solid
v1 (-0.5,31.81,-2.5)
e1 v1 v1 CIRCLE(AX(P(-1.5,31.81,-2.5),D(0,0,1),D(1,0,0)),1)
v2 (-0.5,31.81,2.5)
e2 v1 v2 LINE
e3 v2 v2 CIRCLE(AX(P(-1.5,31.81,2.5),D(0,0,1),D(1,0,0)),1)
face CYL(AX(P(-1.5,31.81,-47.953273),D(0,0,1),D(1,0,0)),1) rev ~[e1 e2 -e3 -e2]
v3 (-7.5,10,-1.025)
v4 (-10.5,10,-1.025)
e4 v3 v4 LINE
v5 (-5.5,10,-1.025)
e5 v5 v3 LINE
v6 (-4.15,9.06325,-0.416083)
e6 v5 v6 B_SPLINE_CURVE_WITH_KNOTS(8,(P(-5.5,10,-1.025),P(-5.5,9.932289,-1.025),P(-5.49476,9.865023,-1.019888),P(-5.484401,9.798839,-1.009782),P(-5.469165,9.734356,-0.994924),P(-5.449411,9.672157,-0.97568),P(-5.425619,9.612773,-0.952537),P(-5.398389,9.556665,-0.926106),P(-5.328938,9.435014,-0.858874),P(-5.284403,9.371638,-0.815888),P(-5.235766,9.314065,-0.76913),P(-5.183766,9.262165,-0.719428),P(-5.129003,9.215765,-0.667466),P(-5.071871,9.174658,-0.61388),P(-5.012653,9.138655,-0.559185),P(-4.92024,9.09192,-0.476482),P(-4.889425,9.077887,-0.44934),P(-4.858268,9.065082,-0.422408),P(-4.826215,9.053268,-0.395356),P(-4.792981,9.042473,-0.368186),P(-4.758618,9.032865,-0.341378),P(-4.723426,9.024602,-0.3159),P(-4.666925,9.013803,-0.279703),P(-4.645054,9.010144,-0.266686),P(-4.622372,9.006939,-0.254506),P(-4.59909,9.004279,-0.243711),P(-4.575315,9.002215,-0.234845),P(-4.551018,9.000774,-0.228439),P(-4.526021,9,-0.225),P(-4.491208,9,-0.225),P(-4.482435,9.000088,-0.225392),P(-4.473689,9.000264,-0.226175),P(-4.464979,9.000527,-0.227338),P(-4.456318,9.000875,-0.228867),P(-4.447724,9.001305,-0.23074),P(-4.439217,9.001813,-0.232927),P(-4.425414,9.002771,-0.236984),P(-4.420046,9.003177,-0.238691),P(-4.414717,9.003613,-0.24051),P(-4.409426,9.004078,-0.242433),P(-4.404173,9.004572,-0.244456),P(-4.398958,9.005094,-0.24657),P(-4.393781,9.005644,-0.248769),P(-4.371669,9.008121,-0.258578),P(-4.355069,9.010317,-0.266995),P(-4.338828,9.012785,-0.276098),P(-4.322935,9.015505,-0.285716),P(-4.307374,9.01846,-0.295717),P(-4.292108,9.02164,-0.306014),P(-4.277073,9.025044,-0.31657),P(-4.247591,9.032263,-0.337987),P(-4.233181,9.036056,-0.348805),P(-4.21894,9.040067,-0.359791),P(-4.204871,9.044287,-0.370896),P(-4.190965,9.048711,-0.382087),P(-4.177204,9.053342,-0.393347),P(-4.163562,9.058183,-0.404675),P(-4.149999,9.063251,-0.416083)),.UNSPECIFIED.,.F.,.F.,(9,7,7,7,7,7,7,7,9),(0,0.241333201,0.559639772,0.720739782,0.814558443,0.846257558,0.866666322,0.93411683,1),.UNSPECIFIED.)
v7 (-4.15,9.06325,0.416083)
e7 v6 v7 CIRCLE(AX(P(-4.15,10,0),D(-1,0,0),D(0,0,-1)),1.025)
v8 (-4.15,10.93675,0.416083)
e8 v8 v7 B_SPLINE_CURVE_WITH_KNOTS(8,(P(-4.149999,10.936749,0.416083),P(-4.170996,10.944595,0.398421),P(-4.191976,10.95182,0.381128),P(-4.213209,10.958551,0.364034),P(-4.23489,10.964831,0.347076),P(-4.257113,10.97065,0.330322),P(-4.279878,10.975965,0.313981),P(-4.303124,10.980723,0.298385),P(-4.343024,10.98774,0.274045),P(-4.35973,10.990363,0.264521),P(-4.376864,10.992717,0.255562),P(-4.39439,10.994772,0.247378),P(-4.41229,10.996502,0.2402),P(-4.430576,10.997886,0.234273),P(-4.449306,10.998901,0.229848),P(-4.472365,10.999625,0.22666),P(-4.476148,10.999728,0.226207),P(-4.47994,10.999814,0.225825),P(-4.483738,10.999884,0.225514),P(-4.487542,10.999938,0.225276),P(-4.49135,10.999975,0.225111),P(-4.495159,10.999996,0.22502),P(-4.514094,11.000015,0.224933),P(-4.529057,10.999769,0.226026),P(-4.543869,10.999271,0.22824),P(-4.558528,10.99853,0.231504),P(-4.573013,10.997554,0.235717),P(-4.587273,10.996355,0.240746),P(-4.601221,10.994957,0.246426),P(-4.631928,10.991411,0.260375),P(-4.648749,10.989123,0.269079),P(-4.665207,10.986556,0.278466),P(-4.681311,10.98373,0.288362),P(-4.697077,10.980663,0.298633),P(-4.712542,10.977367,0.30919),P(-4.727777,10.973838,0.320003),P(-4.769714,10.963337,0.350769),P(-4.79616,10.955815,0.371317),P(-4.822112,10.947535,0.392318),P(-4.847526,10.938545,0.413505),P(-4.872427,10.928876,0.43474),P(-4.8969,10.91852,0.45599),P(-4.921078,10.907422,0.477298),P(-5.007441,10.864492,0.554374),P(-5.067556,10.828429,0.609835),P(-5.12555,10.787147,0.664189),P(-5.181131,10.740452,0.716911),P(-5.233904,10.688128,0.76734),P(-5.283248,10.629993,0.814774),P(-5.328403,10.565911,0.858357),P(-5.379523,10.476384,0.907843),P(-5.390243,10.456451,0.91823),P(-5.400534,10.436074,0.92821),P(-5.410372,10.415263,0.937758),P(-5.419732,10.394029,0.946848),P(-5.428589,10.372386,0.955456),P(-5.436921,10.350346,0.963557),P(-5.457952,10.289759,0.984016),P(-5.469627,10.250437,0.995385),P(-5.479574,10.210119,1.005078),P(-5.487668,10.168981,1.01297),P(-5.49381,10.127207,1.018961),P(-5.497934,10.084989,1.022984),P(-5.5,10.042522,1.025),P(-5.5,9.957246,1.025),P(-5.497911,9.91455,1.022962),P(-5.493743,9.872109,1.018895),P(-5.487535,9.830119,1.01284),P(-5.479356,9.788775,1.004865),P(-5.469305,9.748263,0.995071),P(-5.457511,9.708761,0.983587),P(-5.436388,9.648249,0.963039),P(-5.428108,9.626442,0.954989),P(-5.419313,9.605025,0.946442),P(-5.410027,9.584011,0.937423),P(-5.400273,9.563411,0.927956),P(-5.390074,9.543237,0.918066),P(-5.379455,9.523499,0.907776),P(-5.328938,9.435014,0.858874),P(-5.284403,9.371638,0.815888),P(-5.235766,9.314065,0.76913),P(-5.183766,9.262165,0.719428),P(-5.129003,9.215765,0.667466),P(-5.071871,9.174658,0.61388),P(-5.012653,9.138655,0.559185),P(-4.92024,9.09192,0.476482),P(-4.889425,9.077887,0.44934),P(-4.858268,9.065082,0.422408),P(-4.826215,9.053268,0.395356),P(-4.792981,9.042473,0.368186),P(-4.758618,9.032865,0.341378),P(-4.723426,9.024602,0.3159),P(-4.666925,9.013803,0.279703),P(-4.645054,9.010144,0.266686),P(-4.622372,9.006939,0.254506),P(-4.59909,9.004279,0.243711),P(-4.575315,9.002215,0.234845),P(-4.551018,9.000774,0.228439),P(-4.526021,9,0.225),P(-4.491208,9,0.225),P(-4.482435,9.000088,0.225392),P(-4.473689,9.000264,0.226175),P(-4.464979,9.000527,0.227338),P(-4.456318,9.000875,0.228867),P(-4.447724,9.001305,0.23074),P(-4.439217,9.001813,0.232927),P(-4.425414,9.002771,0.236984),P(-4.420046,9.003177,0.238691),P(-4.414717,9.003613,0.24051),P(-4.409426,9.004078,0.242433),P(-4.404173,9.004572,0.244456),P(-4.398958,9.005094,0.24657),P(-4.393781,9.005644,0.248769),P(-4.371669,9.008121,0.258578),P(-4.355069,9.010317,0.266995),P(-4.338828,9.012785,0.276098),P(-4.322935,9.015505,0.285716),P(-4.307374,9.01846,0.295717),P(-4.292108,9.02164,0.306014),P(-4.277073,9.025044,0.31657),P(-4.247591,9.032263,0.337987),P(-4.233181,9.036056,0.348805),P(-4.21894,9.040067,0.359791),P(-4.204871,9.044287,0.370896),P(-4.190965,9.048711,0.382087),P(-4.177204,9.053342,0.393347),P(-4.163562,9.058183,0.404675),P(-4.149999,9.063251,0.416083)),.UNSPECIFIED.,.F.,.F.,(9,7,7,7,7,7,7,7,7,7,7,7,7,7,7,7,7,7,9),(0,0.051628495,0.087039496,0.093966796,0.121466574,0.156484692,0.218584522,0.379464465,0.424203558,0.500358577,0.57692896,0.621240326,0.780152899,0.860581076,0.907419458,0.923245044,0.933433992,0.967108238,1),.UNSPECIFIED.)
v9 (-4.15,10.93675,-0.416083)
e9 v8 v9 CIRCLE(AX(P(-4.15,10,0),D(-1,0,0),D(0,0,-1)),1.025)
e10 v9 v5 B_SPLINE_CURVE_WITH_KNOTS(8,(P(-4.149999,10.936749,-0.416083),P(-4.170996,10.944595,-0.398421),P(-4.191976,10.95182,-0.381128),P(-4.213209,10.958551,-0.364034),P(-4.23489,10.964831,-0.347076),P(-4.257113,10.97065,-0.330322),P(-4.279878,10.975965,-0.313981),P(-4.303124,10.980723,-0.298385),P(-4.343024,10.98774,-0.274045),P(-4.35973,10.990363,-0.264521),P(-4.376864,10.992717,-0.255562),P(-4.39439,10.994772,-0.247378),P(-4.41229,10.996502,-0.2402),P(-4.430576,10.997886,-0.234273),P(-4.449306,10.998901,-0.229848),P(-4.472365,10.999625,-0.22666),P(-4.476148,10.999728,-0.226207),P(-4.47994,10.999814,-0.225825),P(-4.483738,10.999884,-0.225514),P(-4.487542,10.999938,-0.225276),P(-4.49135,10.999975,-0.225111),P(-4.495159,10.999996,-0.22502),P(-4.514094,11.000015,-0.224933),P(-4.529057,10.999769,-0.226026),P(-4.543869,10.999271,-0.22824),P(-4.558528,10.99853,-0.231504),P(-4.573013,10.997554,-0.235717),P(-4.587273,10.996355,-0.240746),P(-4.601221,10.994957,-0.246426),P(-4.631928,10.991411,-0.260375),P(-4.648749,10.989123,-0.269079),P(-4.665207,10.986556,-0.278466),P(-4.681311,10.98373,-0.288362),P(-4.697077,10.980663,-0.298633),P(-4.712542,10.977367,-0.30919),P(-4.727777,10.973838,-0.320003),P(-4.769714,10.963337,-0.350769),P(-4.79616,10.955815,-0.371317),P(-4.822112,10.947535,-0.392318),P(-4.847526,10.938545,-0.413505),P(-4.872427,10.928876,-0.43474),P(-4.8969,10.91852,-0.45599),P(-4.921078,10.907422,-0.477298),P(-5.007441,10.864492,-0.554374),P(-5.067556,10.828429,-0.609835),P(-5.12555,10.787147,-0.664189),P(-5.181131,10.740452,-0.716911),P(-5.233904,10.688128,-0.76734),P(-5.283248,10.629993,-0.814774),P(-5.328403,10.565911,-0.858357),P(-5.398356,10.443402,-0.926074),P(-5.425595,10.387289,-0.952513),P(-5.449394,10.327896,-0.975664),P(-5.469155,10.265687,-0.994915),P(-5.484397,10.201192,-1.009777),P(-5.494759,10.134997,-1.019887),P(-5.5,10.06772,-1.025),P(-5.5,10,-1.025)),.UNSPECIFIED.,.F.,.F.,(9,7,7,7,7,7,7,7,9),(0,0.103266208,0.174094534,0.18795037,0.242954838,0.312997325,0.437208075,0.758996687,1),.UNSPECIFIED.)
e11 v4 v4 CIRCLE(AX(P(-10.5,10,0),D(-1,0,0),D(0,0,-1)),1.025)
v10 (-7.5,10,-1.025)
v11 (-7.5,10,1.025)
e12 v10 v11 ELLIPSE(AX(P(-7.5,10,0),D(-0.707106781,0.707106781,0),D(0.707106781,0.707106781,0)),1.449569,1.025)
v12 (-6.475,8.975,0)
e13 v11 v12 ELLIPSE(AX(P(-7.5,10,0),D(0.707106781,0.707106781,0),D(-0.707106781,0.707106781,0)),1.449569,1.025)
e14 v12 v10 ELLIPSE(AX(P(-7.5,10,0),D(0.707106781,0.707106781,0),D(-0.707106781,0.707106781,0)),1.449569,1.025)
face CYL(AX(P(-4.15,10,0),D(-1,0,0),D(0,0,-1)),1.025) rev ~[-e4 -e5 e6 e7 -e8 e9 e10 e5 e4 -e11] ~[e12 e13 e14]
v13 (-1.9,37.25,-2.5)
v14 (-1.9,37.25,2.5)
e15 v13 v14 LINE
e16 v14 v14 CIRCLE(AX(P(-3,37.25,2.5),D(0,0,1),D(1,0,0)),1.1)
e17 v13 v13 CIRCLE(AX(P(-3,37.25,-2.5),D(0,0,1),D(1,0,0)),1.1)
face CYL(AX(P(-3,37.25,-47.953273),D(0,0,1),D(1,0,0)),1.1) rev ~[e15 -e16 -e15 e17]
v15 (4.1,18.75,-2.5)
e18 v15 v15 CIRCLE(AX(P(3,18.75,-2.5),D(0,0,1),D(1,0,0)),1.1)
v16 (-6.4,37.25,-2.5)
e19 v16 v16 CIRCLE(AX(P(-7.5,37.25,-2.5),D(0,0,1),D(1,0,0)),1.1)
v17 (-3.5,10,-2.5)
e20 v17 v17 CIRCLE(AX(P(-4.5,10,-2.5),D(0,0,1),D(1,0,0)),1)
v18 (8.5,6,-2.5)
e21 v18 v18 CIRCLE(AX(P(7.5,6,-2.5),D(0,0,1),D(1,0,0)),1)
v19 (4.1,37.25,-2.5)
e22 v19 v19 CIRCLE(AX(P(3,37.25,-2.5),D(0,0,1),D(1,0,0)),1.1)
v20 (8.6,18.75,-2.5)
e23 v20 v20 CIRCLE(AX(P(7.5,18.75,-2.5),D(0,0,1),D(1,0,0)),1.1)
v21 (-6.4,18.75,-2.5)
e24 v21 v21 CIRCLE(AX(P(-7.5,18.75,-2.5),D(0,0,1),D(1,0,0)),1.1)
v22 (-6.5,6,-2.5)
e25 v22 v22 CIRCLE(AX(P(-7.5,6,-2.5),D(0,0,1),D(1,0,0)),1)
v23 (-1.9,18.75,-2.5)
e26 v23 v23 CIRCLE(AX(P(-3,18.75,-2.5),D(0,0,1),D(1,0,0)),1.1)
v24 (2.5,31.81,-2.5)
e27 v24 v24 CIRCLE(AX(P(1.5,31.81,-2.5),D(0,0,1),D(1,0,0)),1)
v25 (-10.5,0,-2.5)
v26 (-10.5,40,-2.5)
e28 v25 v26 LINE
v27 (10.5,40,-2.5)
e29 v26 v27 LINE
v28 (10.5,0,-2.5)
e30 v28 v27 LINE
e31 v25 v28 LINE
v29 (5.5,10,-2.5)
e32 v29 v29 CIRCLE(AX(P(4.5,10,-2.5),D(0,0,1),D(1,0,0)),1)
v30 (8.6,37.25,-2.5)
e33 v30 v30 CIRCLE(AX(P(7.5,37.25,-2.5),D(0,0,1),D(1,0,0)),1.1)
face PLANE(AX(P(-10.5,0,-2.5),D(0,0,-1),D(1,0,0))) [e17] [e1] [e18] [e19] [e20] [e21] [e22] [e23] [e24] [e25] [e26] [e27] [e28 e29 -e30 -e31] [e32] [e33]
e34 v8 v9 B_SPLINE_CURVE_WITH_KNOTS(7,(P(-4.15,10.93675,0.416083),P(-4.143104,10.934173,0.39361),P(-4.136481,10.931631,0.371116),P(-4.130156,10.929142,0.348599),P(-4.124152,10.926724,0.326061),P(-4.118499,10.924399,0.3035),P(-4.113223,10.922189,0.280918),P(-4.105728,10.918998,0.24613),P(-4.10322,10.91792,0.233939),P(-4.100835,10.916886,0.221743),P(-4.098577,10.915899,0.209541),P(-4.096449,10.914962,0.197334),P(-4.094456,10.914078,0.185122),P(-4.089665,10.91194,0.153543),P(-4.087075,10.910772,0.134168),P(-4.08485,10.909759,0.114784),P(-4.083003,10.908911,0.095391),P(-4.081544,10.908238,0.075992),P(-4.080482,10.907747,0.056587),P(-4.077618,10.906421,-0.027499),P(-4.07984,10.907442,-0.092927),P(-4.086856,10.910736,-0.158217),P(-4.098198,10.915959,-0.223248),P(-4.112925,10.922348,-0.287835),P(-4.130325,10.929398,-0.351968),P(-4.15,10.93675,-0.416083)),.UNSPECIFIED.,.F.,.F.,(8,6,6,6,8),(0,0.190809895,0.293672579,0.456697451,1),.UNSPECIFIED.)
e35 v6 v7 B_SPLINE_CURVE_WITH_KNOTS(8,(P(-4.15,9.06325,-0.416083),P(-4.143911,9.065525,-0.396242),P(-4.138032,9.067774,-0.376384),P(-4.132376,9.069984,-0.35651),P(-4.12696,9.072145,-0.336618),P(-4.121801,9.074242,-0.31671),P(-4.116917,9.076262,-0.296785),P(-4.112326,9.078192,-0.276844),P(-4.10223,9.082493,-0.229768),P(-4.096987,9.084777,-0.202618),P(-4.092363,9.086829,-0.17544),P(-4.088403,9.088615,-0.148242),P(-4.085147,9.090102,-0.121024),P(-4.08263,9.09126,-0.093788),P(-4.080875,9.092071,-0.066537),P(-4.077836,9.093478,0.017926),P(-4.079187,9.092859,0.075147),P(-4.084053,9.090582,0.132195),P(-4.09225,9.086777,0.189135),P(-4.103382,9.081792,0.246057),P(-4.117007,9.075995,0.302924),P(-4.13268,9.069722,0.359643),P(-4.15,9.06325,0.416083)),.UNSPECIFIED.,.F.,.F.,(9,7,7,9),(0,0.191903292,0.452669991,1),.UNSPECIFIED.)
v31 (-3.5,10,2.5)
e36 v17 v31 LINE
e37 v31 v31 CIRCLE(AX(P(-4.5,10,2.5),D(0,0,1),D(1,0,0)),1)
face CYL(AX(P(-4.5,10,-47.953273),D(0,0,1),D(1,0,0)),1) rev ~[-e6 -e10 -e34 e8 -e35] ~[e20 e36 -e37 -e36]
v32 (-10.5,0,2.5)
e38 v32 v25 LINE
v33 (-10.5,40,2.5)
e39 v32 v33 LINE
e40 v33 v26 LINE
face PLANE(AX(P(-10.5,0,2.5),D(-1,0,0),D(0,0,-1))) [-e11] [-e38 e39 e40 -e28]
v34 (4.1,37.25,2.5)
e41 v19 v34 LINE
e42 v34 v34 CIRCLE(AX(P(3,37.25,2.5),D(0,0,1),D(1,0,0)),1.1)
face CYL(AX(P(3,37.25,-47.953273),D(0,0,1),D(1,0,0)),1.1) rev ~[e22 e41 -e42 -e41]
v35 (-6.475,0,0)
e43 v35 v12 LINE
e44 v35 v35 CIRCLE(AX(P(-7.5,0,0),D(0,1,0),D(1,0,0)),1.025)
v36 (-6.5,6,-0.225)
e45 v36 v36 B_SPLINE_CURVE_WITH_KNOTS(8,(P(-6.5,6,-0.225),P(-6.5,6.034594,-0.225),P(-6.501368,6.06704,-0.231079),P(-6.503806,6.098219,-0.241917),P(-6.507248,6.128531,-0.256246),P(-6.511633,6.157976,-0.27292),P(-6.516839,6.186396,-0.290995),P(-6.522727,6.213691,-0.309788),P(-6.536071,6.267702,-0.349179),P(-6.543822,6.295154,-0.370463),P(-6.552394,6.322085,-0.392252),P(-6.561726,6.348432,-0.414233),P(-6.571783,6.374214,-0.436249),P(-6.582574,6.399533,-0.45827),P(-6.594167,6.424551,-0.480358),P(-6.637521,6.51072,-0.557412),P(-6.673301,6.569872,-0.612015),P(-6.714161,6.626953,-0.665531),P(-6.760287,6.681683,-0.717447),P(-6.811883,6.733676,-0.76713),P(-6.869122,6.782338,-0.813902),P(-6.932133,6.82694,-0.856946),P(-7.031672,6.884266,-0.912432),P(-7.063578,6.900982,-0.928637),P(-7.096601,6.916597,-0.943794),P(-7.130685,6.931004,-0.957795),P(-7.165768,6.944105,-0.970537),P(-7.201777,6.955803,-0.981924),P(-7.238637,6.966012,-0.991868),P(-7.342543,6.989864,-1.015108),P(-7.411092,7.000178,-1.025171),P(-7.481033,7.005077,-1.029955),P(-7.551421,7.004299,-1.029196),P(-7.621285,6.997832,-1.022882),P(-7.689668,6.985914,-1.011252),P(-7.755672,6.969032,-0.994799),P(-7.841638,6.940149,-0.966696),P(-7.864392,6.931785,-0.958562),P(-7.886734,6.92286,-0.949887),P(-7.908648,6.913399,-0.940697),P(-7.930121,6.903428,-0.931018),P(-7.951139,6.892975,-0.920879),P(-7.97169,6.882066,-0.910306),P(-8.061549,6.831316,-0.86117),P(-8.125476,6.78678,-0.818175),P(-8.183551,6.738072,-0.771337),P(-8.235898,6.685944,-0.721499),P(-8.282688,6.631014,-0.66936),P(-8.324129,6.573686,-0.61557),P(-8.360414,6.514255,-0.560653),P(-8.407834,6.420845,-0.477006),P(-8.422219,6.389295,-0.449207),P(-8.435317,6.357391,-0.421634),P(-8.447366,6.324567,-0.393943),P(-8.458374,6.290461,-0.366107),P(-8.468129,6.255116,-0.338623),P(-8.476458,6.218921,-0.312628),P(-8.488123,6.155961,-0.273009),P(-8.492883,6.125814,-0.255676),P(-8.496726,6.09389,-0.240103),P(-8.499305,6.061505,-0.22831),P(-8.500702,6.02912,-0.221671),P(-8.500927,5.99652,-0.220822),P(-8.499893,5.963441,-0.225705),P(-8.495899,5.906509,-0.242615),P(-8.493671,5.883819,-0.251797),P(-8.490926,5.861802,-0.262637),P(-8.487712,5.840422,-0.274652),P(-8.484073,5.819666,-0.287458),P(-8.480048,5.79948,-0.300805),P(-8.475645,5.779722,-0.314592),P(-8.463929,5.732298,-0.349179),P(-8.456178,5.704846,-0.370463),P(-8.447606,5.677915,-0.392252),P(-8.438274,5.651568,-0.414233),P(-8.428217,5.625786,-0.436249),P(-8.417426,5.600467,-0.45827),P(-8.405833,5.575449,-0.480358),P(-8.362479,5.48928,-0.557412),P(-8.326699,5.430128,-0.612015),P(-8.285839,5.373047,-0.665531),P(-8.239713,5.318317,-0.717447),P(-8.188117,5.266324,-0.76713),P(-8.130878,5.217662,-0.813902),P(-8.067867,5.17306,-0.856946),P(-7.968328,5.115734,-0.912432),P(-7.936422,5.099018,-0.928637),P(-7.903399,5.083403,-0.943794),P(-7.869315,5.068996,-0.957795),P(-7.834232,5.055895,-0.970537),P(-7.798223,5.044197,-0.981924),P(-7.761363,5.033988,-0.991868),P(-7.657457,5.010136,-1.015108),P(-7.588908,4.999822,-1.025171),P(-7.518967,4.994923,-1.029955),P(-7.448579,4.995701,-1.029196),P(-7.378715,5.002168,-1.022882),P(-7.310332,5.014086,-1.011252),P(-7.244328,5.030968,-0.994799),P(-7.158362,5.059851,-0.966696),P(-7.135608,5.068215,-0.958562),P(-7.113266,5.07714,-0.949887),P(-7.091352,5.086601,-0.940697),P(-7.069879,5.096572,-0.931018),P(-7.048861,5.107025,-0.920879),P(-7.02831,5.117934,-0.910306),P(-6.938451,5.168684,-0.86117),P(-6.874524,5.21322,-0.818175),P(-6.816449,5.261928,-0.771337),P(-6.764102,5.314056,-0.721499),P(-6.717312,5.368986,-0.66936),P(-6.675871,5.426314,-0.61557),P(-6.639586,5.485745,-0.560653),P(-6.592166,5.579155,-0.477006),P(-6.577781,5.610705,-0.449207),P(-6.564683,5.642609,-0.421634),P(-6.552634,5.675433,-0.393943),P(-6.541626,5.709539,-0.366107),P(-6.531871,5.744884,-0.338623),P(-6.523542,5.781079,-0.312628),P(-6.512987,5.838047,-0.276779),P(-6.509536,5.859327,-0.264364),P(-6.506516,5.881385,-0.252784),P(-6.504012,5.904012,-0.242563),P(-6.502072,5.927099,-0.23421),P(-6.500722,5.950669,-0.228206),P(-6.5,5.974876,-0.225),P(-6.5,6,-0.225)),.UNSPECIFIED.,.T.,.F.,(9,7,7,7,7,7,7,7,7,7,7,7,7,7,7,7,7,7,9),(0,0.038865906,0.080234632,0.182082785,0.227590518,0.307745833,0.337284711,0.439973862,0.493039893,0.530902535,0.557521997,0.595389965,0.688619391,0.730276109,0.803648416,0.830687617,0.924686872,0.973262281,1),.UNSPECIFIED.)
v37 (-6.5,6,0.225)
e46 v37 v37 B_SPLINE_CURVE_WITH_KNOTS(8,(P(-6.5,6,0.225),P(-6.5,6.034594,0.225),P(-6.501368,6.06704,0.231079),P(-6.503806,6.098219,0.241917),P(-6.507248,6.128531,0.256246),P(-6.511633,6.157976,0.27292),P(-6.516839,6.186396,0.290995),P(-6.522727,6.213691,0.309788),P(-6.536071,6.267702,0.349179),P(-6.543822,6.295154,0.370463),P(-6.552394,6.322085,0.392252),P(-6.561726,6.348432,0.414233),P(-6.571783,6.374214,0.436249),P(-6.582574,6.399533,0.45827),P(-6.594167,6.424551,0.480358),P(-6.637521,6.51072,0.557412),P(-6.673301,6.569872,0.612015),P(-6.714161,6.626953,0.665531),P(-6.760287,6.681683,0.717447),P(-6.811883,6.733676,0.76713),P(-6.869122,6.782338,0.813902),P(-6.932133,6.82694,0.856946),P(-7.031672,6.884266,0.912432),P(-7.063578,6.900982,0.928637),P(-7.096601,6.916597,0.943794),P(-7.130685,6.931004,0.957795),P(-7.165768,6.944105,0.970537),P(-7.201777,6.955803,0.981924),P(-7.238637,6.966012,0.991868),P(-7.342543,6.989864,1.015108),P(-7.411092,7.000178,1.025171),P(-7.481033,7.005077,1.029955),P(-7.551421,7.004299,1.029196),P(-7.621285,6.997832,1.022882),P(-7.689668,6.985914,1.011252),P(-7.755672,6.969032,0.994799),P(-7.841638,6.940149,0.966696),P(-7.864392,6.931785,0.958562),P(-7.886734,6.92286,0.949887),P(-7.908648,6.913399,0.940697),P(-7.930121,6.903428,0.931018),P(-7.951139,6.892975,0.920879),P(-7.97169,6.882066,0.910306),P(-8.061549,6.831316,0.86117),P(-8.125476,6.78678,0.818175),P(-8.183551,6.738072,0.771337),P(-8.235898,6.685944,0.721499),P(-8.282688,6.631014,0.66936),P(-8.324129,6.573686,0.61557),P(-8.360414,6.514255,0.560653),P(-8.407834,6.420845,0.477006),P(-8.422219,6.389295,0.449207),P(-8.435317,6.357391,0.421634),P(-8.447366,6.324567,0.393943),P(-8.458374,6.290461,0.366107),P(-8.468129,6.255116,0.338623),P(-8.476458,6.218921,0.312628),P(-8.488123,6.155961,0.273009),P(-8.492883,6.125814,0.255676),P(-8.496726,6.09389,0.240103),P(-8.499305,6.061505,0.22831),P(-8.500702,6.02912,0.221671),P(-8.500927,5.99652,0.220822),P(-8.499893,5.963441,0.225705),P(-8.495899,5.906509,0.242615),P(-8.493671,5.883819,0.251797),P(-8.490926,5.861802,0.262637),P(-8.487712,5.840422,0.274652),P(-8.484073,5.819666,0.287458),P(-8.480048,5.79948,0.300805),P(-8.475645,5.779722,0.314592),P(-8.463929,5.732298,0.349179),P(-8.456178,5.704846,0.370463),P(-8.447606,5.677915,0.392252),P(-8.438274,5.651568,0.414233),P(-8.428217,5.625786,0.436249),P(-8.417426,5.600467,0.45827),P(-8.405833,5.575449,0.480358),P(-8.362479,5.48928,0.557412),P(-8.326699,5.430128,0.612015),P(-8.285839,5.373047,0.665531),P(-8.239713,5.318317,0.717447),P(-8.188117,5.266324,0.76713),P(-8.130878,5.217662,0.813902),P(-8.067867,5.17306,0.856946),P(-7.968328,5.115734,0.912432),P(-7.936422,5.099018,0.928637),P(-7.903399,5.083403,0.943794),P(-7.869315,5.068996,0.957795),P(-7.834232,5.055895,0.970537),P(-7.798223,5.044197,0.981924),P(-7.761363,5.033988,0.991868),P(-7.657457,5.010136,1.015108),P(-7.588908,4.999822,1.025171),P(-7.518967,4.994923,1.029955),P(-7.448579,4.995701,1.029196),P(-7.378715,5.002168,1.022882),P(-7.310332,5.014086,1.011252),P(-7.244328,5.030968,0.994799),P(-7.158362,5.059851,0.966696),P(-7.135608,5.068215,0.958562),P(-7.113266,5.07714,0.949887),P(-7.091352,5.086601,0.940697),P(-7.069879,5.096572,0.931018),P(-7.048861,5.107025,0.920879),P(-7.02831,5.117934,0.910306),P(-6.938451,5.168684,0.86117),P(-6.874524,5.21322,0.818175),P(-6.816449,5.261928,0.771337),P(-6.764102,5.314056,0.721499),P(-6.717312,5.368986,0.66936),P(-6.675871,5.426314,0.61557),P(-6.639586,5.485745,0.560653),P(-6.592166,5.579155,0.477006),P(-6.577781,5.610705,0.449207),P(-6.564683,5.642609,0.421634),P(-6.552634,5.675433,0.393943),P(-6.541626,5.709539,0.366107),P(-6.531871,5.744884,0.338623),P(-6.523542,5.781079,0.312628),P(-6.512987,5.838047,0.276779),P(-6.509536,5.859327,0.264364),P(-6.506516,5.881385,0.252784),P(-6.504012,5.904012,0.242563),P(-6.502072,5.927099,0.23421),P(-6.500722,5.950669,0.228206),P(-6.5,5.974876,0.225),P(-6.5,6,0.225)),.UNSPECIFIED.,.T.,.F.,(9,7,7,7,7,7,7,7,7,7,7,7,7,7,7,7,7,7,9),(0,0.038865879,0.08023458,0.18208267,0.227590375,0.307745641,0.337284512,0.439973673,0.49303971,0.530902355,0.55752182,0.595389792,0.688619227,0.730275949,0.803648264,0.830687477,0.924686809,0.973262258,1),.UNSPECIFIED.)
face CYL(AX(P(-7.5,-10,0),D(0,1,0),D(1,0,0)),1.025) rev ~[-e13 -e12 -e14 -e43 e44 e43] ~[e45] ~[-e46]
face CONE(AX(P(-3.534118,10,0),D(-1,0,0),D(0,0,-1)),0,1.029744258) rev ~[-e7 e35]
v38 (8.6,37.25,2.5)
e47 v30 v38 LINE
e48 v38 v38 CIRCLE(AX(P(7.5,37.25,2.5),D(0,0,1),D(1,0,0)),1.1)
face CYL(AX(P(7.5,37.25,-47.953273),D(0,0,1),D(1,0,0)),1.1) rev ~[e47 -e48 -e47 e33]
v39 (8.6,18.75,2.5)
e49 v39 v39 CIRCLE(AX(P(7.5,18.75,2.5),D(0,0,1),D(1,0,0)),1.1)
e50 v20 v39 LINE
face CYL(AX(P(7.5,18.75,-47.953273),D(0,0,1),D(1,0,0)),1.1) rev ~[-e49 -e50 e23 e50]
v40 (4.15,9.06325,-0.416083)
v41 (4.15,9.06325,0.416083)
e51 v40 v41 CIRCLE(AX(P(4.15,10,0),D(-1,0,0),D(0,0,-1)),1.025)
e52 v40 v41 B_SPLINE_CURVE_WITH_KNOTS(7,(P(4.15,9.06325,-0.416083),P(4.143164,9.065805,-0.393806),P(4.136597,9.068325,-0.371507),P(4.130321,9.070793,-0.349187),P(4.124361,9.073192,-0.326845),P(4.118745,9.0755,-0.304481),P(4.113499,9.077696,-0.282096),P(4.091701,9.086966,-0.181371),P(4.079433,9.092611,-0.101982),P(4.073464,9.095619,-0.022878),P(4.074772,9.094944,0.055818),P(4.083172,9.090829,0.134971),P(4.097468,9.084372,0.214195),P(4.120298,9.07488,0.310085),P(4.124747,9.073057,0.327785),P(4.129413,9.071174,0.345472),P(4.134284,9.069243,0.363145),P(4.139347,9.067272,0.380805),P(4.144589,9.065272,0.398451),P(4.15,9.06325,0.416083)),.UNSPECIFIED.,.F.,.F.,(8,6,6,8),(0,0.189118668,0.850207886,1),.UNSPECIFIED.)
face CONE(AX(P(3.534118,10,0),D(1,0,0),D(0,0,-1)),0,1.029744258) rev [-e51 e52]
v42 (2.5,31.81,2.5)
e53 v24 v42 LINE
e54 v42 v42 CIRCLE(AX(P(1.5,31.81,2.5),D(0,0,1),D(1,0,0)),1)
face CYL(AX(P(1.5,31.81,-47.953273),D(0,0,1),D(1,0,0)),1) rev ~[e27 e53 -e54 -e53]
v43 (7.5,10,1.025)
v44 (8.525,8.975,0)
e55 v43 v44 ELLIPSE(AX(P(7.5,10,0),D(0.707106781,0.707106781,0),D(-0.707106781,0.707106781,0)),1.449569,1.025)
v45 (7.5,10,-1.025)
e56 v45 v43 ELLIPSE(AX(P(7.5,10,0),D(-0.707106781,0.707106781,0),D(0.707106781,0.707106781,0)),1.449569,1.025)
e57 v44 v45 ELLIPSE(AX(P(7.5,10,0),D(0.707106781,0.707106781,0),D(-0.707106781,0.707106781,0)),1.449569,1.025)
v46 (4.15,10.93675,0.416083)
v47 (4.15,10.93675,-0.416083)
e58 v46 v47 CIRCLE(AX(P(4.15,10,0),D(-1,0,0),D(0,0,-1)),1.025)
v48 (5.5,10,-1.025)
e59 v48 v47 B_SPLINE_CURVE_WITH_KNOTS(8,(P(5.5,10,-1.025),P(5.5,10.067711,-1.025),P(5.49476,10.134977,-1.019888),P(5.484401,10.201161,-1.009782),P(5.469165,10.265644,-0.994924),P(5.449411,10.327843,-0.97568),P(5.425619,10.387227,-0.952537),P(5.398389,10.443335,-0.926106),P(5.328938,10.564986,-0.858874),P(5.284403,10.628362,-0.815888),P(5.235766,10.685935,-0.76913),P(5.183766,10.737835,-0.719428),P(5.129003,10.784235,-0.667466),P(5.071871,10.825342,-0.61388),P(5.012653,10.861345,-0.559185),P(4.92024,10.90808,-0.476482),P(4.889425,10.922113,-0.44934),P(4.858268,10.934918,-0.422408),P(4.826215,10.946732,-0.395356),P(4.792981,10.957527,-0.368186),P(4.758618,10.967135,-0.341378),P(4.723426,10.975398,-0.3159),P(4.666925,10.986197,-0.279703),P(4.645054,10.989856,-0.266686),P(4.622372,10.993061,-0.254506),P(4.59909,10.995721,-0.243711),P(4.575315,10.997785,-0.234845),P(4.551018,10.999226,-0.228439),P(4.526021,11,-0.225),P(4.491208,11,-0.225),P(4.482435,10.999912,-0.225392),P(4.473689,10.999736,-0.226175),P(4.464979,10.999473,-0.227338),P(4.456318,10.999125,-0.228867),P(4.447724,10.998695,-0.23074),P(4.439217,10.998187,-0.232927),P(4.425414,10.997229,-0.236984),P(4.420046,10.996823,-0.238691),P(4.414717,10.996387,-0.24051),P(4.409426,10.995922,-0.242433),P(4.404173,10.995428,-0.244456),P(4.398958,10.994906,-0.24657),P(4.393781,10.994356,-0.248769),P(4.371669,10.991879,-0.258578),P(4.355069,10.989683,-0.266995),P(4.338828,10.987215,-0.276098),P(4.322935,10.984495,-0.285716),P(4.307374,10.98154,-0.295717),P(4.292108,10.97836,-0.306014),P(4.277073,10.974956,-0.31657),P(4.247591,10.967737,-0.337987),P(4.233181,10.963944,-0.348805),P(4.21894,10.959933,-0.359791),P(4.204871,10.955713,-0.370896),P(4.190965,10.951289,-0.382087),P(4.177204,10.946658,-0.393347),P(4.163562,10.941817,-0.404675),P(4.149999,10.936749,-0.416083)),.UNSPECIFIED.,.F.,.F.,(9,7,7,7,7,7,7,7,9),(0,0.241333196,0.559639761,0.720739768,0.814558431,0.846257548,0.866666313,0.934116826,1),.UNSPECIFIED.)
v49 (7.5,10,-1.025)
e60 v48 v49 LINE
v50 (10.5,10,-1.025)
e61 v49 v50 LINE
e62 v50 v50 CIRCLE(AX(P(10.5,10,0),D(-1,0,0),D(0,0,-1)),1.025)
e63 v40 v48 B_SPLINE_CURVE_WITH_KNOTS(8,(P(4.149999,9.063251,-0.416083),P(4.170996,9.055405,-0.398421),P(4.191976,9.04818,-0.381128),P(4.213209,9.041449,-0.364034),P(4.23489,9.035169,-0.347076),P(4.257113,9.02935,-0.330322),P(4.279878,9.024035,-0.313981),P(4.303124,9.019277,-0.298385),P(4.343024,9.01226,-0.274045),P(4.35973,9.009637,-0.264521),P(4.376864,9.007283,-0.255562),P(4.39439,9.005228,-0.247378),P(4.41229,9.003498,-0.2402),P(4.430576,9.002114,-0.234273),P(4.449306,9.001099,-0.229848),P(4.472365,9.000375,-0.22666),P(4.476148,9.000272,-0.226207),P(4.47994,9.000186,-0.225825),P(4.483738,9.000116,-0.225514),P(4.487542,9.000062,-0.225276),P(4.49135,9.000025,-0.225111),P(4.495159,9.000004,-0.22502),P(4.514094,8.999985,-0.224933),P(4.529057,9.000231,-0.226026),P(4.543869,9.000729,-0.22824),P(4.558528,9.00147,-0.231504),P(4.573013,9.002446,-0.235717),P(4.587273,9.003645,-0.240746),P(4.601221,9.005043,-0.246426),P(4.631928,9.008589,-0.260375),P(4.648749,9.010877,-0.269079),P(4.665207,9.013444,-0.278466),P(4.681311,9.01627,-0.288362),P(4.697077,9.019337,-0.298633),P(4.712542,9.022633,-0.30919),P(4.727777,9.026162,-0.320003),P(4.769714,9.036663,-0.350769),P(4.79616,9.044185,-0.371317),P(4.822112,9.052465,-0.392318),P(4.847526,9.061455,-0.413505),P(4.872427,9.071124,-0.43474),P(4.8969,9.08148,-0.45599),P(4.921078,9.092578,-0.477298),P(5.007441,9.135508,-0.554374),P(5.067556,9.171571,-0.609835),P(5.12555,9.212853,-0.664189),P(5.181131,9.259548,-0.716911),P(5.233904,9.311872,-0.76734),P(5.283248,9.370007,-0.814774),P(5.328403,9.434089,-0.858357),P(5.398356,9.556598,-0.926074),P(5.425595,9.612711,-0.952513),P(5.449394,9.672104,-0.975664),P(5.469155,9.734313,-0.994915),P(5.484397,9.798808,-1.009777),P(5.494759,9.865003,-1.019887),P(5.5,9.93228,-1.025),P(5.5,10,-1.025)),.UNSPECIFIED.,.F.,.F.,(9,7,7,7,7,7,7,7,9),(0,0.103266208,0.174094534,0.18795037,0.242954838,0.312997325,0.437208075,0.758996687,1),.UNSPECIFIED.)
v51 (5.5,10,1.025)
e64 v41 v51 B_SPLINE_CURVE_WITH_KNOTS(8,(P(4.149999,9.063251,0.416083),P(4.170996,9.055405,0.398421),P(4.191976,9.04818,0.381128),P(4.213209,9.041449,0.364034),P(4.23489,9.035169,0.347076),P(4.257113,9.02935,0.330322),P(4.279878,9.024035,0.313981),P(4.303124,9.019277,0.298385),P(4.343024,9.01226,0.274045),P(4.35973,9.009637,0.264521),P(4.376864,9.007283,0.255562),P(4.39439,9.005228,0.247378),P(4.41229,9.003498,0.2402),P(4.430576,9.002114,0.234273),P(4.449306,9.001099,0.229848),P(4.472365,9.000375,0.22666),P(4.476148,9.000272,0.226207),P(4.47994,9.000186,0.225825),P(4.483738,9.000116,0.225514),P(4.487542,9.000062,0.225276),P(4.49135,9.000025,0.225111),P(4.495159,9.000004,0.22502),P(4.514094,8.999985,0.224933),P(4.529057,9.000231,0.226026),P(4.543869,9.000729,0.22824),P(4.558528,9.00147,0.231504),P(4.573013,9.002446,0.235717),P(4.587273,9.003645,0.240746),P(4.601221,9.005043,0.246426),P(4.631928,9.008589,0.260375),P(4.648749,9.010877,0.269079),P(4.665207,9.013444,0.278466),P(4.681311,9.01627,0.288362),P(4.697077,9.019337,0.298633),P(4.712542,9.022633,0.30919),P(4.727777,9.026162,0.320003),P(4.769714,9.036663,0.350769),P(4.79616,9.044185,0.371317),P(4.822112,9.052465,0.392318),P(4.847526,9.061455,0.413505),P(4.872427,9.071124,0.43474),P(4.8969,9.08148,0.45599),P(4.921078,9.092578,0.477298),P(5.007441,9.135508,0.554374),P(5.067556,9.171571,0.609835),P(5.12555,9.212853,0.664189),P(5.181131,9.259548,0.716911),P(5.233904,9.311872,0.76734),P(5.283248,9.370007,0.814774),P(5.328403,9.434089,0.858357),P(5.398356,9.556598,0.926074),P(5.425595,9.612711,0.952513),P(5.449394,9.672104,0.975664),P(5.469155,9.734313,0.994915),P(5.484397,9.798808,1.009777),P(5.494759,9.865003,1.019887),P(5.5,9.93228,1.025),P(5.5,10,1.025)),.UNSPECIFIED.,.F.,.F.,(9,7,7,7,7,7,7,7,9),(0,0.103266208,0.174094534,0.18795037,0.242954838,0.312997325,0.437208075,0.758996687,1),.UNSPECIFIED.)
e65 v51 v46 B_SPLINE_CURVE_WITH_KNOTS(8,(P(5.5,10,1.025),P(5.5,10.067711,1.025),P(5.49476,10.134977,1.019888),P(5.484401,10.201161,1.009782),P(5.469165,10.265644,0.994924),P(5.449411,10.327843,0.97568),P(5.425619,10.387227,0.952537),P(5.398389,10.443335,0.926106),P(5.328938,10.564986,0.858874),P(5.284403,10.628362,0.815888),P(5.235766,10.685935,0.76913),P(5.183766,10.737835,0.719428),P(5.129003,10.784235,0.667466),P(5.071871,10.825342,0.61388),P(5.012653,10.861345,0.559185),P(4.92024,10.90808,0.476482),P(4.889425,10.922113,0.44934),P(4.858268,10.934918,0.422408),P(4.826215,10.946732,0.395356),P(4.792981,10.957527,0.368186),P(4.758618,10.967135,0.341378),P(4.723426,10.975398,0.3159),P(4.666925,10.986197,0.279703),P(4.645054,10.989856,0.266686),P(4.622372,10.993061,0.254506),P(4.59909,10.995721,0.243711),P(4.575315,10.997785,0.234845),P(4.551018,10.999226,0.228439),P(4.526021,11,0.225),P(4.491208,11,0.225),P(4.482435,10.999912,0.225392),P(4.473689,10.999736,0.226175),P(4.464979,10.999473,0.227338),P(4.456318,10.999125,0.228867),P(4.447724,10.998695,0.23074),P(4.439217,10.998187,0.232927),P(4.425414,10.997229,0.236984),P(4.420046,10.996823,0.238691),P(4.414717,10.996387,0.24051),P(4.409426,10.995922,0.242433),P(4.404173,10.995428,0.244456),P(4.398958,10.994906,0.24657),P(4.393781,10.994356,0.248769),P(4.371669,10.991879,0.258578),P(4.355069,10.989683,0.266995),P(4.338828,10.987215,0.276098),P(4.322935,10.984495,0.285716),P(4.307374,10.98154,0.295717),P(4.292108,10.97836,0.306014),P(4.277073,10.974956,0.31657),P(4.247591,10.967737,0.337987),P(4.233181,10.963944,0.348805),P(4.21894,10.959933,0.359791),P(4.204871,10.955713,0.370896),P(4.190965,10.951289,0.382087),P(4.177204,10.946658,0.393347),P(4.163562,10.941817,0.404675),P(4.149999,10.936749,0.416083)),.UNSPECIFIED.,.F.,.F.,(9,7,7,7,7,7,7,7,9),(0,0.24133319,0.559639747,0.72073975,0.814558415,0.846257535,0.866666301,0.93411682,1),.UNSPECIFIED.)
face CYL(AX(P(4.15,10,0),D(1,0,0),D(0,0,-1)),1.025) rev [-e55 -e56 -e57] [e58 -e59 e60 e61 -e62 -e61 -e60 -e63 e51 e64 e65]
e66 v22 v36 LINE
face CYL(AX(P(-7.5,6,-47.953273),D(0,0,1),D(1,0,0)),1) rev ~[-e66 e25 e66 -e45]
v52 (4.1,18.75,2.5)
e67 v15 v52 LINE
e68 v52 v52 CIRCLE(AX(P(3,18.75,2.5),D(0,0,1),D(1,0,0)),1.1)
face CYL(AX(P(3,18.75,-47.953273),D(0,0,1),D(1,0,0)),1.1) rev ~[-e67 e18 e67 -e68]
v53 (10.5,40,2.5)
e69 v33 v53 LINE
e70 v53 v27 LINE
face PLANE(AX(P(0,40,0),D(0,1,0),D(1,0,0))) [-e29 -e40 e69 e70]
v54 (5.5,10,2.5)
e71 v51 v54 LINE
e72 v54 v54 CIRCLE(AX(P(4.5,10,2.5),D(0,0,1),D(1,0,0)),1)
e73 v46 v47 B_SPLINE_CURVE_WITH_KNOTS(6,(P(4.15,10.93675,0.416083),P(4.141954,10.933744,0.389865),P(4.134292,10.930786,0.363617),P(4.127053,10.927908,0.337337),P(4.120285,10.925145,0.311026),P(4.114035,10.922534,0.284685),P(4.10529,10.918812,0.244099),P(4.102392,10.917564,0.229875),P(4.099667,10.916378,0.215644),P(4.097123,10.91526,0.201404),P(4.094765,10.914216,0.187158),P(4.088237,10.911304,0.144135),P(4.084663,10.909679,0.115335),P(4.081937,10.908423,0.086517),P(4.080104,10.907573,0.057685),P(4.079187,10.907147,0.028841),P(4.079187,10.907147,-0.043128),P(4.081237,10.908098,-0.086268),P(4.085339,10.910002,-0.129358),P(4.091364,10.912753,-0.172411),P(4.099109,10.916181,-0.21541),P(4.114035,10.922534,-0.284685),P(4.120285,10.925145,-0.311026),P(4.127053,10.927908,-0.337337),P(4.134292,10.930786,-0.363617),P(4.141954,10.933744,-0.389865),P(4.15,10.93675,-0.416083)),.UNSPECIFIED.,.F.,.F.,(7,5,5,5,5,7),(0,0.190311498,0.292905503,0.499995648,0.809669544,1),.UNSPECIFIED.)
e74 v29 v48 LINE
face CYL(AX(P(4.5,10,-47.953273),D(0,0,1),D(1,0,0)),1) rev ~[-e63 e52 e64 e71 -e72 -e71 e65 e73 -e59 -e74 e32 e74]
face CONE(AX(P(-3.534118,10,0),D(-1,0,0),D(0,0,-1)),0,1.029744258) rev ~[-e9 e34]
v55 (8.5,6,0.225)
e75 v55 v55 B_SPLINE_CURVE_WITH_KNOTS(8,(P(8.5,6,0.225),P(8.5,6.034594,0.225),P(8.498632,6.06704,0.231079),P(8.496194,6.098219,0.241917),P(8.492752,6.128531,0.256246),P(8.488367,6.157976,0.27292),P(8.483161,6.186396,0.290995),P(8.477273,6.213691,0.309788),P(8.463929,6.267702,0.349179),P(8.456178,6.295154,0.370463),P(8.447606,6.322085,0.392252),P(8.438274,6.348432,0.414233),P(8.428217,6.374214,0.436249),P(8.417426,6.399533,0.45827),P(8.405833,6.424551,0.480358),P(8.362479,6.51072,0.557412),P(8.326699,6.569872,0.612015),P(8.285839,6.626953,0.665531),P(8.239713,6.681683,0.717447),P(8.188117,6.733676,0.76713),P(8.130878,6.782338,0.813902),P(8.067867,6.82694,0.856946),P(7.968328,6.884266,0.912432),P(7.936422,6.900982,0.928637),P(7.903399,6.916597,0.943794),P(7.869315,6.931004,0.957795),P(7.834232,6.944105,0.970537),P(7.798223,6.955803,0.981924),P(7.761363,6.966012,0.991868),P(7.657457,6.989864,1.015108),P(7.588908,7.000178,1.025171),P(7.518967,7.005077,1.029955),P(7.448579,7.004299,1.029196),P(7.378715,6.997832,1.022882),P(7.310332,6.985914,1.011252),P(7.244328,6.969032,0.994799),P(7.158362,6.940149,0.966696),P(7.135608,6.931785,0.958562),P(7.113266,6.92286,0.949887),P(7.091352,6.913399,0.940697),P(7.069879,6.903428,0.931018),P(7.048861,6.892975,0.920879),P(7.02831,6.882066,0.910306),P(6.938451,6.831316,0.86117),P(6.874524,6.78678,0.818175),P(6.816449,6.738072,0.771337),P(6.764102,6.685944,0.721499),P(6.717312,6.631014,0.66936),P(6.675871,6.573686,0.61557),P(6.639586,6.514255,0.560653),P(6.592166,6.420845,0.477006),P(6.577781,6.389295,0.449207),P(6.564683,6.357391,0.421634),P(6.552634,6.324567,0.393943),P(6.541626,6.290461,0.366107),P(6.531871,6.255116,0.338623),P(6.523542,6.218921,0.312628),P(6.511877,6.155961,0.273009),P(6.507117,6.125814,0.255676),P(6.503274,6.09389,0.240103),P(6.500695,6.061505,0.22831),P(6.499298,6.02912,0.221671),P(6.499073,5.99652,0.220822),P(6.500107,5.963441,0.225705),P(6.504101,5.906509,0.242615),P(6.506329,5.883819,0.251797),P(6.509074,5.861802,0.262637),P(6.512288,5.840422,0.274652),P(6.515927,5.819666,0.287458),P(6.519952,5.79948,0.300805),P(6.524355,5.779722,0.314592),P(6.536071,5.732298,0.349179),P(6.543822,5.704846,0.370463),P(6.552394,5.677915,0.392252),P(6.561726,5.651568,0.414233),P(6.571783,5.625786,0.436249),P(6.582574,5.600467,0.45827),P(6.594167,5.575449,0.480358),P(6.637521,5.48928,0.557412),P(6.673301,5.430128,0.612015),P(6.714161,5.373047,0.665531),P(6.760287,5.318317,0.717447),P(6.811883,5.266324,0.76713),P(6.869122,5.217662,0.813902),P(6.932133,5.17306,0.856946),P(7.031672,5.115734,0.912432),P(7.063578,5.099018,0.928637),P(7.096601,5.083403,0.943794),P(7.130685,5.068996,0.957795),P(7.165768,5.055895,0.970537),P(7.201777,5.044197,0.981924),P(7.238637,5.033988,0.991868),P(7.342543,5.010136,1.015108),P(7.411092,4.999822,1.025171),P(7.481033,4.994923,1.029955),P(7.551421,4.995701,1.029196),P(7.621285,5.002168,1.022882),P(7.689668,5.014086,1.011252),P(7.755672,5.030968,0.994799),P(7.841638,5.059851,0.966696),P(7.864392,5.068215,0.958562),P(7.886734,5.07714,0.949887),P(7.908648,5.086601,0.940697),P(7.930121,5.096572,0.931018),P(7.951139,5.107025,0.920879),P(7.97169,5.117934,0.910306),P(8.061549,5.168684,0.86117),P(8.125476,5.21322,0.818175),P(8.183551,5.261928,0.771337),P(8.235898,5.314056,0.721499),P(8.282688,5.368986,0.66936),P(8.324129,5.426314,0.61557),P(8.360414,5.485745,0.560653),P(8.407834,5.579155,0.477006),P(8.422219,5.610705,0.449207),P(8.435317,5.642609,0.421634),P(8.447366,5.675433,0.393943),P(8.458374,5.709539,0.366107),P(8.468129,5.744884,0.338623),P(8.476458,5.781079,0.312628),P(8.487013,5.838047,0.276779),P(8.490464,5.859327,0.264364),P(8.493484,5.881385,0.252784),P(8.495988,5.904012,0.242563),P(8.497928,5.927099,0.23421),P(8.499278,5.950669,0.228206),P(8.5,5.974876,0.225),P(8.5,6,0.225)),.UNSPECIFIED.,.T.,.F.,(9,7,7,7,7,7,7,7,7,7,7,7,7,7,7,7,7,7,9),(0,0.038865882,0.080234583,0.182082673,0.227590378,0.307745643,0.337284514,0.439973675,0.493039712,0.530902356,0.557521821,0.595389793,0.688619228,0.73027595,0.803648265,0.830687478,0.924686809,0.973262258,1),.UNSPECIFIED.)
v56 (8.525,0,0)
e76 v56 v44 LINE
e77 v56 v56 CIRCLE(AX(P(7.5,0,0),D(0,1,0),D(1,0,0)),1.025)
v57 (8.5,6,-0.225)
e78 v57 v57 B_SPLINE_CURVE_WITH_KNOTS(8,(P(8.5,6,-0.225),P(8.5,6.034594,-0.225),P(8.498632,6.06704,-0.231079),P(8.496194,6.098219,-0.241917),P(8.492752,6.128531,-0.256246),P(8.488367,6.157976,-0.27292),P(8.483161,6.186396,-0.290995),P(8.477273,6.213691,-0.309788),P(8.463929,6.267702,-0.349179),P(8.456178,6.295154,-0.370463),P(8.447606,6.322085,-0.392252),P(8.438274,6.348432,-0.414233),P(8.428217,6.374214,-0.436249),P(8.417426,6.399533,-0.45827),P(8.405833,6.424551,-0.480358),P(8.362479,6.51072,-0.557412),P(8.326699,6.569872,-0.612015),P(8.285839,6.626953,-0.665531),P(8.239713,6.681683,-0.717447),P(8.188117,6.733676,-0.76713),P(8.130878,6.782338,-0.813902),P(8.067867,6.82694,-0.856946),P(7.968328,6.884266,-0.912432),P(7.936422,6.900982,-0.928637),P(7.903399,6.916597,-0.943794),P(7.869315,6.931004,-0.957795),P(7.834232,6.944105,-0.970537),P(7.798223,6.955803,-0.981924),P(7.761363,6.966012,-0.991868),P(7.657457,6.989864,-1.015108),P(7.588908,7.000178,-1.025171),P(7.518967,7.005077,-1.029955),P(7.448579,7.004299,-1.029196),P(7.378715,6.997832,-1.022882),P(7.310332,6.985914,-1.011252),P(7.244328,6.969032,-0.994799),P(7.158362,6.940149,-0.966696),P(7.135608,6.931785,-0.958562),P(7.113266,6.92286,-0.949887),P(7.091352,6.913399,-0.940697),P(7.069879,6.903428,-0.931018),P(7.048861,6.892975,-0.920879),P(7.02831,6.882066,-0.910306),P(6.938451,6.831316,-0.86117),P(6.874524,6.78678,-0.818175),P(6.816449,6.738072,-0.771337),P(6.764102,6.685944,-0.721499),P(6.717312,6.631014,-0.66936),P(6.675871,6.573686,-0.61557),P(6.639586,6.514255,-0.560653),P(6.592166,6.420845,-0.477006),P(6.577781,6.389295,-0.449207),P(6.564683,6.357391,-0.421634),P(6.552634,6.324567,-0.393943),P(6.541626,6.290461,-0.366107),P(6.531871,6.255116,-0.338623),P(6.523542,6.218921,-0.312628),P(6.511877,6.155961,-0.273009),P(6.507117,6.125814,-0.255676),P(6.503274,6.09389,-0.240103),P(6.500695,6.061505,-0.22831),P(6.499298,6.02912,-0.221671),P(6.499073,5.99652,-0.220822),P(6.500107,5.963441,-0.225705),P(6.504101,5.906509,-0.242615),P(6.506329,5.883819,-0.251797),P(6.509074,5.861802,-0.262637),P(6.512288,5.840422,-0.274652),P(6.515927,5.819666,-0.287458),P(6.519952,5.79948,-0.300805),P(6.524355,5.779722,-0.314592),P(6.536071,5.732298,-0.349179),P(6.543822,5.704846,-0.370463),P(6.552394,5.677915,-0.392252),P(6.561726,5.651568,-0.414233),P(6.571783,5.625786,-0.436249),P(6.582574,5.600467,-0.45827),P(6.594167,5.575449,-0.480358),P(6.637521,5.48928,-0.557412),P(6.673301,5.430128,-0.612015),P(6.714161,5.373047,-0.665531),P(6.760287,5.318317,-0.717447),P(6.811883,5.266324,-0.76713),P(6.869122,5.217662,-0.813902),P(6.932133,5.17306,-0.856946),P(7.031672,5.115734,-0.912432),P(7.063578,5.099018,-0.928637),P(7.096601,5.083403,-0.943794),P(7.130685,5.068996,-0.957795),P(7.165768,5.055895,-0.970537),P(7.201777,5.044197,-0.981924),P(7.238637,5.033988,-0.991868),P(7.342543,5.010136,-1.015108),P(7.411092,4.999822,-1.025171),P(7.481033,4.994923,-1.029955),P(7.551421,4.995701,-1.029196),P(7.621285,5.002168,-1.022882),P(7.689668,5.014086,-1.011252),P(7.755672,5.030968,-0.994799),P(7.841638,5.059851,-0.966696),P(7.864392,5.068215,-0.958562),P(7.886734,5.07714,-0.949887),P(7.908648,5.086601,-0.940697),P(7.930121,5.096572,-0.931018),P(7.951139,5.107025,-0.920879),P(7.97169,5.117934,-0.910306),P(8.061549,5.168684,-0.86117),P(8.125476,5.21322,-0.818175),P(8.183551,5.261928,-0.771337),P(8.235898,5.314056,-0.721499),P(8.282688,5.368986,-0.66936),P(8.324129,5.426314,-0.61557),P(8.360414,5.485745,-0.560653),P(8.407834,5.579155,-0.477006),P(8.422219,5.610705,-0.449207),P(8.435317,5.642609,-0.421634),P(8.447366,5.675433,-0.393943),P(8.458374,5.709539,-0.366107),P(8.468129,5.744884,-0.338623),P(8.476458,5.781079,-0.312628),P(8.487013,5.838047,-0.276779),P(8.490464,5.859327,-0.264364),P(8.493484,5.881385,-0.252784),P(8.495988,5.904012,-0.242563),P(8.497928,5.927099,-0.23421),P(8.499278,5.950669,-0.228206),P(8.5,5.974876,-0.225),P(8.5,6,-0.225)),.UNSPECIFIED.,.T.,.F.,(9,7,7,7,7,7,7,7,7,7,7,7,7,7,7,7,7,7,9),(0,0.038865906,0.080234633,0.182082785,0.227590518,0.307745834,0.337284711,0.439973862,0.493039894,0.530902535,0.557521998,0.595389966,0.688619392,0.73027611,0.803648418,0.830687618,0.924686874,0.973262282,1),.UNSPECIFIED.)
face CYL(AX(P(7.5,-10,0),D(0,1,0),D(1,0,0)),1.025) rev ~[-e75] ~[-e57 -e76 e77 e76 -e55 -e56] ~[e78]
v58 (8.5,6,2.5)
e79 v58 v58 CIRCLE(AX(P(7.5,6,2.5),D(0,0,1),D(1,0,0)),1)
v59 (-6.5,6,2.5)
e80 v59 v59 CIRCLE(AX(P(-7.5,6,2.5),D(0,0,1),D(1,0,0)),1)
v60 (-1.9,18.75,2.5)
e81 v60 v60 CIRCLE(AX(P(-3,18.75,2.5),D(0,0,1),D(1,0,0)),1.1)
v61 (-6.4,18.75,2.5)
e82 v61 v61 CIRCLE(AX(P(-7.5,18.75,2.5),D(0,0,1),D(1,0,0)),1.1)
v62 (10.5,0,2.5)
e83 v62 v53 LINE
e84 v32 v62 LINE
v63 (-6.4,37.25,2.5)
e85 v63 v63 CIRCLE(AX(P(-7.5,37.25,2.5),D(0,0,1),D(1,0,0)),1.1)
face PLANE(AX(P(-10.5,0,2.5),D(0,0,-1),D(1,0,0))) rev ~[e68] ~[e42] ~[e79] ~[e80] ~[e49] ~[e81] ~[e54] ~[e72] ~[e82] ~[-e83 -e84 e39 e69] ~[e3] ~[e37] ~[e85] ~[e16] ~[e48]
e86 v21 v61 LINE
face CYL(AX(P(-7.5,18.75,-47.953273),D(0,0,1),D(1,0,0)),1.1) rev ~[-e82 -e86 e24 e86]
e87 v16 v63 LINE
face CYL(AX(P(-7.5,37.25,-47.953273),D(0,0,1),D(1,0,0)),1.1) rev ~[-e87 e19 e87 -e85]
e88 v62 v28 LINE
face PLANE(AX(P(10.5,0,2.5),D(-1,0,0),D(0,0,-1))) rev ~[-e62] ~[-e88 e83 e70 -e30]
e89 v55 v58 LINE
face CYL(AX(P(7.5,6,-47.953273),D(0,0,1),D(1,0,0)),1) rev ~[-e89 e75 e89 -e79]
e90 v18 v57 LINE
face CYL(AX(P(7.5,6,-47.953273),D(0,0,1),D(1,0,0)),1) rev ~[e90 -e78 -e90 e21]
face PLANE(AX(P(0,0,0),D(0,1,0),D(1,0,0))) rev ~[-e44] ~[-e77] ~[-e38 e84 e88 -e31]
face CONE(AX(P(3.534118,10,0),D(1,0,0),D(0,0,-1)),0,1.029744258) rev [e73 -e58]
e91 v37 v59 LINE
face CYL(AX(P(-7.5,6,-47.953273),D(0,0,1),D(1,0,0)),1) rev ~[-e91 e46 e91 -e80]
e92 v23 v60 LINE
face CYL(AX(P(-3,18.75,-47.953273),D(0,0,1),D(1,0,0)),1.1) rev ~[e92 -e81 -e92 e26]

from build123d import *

# Parameters (mm, degrees)
SKETCH1_W                = 21
SKETCH1_H                = 5
BOSS_EXTRUDE1_DEPTH      = 40
M2_5_TAPPED_HOLE1_D      = 2.05
M2_5_TAPPED_HOLE1_DEPTH  = 10
M2_5_TAPPED_HOLE1_TIP    = 0.615882135
M2_CLEARANCE_HOLE1_D     = 2.2
F_2_0_2_DIAMETER_HOLE2_D = 2
F_2_0_2_DIAMETER_HOLE3_D = 2


with BuildPart() as part:
    # Sketch1 → Boss-Extrude1 (new body)
    with BuildSketch(Plane(origin=(0, 0, 0), x_dir=(1, 0, 0), z_dir=(0, 1, 0))):
        Rectangle(SKETCH1_W, SKETCH1_H)
    extrude(amount=BOSS_EXTRUDE1_DEPTH)

    # M2.5 Tapped Hole1
    with Locations(Plane(origin=(0, 0, 0), x_dir=(-1, 0, 0), z_dir=(0, -1, 0))):
        with Locations((7.5, 0), (-7.5, 0)):
            Hole(M2_5_TAPPED_HOLE1_D / 2, depth=M2_5_TAPPED_HOLE1_DEPTH)
            with Locations((0, 0, -(M2_5_TAPPED_HOLE1_DEPTH + M2_5_TAPPED_HOLE1_TIP / 2))):  # 118° drill point
                Cone(0, M2_5_TAPPED_HOLE1_D / 2, M2_5_TAPPED_HOLE1_TIP, mode=Mode.SUBTRACT)

    # M2 Clearance Hole1 (through all)
    with Locations(Plane(origin=(0, 0, -2.5), x_dir=(-1, 0, 0), z_dir=(0, 0, -1))):
        with Locations((-7.5, 37.25), (7.5, 37.25), (-7.5, 18.75), (7.5, 18.75), (-3, 37.25), (3, 37.25), (-3, 18.75), (3, 18.75)):
            Hole(M2_CLEARANCE_HOLE1_D / 2)

    # Ø2.0 (2) Diameter Hole2 (through all)
    with Locations(Plane(origin=(0, 0, -2.5), x_dir=(-1, 0, 0), z_dir=(0, 0, -1))):
        with Locations((1.5, 31.81), (-1.5, 31.81)):
            Hole(F_2_0_2_DIAMETER_HOLE2_D / 2)

    # Sketch11 → M2.5 Tapped Hole2 (revolve, cut)
    with BuildSketch(Plane(origin=(10.5, 10, 0), x_dir=(0, 0, -1), z_dir=(0, 1, 0))):
        Polygon((0, 0), (0, 6.965882135), (1.025, 6.35), (1.025, 0), align=None)
    m2_5_tapped_hole2 = revolve(axis=Axis((16.85, 10, 0), (-1, 0, 0)), mode=Mode.SUBTRACT)

    # Mirror1: M2.5 Tapped Hole2 across plane
    add(m2_5_tapped_hole2.mirror(Plane(origin=(0, 0, 0), x_dir=(0, 0, 1), z_dir=(1, 0, 0))), mode=Mode.SUBTRACT)

    # Ø2.0 (2) Diameter Hole3 (through all)
    with Locations(Plane(origin=(0, 0, -2.5), x_dir=(-1, 0, 0), z_dir=(0, 0, -1))):
        with Locations((-4.5, 10), (4.5, 10), (-7.5, 6), (7.5, 6)):
            Hole(F_2_0_2_DIAMETER_HOLE3_D / 2)


solid = part.part
